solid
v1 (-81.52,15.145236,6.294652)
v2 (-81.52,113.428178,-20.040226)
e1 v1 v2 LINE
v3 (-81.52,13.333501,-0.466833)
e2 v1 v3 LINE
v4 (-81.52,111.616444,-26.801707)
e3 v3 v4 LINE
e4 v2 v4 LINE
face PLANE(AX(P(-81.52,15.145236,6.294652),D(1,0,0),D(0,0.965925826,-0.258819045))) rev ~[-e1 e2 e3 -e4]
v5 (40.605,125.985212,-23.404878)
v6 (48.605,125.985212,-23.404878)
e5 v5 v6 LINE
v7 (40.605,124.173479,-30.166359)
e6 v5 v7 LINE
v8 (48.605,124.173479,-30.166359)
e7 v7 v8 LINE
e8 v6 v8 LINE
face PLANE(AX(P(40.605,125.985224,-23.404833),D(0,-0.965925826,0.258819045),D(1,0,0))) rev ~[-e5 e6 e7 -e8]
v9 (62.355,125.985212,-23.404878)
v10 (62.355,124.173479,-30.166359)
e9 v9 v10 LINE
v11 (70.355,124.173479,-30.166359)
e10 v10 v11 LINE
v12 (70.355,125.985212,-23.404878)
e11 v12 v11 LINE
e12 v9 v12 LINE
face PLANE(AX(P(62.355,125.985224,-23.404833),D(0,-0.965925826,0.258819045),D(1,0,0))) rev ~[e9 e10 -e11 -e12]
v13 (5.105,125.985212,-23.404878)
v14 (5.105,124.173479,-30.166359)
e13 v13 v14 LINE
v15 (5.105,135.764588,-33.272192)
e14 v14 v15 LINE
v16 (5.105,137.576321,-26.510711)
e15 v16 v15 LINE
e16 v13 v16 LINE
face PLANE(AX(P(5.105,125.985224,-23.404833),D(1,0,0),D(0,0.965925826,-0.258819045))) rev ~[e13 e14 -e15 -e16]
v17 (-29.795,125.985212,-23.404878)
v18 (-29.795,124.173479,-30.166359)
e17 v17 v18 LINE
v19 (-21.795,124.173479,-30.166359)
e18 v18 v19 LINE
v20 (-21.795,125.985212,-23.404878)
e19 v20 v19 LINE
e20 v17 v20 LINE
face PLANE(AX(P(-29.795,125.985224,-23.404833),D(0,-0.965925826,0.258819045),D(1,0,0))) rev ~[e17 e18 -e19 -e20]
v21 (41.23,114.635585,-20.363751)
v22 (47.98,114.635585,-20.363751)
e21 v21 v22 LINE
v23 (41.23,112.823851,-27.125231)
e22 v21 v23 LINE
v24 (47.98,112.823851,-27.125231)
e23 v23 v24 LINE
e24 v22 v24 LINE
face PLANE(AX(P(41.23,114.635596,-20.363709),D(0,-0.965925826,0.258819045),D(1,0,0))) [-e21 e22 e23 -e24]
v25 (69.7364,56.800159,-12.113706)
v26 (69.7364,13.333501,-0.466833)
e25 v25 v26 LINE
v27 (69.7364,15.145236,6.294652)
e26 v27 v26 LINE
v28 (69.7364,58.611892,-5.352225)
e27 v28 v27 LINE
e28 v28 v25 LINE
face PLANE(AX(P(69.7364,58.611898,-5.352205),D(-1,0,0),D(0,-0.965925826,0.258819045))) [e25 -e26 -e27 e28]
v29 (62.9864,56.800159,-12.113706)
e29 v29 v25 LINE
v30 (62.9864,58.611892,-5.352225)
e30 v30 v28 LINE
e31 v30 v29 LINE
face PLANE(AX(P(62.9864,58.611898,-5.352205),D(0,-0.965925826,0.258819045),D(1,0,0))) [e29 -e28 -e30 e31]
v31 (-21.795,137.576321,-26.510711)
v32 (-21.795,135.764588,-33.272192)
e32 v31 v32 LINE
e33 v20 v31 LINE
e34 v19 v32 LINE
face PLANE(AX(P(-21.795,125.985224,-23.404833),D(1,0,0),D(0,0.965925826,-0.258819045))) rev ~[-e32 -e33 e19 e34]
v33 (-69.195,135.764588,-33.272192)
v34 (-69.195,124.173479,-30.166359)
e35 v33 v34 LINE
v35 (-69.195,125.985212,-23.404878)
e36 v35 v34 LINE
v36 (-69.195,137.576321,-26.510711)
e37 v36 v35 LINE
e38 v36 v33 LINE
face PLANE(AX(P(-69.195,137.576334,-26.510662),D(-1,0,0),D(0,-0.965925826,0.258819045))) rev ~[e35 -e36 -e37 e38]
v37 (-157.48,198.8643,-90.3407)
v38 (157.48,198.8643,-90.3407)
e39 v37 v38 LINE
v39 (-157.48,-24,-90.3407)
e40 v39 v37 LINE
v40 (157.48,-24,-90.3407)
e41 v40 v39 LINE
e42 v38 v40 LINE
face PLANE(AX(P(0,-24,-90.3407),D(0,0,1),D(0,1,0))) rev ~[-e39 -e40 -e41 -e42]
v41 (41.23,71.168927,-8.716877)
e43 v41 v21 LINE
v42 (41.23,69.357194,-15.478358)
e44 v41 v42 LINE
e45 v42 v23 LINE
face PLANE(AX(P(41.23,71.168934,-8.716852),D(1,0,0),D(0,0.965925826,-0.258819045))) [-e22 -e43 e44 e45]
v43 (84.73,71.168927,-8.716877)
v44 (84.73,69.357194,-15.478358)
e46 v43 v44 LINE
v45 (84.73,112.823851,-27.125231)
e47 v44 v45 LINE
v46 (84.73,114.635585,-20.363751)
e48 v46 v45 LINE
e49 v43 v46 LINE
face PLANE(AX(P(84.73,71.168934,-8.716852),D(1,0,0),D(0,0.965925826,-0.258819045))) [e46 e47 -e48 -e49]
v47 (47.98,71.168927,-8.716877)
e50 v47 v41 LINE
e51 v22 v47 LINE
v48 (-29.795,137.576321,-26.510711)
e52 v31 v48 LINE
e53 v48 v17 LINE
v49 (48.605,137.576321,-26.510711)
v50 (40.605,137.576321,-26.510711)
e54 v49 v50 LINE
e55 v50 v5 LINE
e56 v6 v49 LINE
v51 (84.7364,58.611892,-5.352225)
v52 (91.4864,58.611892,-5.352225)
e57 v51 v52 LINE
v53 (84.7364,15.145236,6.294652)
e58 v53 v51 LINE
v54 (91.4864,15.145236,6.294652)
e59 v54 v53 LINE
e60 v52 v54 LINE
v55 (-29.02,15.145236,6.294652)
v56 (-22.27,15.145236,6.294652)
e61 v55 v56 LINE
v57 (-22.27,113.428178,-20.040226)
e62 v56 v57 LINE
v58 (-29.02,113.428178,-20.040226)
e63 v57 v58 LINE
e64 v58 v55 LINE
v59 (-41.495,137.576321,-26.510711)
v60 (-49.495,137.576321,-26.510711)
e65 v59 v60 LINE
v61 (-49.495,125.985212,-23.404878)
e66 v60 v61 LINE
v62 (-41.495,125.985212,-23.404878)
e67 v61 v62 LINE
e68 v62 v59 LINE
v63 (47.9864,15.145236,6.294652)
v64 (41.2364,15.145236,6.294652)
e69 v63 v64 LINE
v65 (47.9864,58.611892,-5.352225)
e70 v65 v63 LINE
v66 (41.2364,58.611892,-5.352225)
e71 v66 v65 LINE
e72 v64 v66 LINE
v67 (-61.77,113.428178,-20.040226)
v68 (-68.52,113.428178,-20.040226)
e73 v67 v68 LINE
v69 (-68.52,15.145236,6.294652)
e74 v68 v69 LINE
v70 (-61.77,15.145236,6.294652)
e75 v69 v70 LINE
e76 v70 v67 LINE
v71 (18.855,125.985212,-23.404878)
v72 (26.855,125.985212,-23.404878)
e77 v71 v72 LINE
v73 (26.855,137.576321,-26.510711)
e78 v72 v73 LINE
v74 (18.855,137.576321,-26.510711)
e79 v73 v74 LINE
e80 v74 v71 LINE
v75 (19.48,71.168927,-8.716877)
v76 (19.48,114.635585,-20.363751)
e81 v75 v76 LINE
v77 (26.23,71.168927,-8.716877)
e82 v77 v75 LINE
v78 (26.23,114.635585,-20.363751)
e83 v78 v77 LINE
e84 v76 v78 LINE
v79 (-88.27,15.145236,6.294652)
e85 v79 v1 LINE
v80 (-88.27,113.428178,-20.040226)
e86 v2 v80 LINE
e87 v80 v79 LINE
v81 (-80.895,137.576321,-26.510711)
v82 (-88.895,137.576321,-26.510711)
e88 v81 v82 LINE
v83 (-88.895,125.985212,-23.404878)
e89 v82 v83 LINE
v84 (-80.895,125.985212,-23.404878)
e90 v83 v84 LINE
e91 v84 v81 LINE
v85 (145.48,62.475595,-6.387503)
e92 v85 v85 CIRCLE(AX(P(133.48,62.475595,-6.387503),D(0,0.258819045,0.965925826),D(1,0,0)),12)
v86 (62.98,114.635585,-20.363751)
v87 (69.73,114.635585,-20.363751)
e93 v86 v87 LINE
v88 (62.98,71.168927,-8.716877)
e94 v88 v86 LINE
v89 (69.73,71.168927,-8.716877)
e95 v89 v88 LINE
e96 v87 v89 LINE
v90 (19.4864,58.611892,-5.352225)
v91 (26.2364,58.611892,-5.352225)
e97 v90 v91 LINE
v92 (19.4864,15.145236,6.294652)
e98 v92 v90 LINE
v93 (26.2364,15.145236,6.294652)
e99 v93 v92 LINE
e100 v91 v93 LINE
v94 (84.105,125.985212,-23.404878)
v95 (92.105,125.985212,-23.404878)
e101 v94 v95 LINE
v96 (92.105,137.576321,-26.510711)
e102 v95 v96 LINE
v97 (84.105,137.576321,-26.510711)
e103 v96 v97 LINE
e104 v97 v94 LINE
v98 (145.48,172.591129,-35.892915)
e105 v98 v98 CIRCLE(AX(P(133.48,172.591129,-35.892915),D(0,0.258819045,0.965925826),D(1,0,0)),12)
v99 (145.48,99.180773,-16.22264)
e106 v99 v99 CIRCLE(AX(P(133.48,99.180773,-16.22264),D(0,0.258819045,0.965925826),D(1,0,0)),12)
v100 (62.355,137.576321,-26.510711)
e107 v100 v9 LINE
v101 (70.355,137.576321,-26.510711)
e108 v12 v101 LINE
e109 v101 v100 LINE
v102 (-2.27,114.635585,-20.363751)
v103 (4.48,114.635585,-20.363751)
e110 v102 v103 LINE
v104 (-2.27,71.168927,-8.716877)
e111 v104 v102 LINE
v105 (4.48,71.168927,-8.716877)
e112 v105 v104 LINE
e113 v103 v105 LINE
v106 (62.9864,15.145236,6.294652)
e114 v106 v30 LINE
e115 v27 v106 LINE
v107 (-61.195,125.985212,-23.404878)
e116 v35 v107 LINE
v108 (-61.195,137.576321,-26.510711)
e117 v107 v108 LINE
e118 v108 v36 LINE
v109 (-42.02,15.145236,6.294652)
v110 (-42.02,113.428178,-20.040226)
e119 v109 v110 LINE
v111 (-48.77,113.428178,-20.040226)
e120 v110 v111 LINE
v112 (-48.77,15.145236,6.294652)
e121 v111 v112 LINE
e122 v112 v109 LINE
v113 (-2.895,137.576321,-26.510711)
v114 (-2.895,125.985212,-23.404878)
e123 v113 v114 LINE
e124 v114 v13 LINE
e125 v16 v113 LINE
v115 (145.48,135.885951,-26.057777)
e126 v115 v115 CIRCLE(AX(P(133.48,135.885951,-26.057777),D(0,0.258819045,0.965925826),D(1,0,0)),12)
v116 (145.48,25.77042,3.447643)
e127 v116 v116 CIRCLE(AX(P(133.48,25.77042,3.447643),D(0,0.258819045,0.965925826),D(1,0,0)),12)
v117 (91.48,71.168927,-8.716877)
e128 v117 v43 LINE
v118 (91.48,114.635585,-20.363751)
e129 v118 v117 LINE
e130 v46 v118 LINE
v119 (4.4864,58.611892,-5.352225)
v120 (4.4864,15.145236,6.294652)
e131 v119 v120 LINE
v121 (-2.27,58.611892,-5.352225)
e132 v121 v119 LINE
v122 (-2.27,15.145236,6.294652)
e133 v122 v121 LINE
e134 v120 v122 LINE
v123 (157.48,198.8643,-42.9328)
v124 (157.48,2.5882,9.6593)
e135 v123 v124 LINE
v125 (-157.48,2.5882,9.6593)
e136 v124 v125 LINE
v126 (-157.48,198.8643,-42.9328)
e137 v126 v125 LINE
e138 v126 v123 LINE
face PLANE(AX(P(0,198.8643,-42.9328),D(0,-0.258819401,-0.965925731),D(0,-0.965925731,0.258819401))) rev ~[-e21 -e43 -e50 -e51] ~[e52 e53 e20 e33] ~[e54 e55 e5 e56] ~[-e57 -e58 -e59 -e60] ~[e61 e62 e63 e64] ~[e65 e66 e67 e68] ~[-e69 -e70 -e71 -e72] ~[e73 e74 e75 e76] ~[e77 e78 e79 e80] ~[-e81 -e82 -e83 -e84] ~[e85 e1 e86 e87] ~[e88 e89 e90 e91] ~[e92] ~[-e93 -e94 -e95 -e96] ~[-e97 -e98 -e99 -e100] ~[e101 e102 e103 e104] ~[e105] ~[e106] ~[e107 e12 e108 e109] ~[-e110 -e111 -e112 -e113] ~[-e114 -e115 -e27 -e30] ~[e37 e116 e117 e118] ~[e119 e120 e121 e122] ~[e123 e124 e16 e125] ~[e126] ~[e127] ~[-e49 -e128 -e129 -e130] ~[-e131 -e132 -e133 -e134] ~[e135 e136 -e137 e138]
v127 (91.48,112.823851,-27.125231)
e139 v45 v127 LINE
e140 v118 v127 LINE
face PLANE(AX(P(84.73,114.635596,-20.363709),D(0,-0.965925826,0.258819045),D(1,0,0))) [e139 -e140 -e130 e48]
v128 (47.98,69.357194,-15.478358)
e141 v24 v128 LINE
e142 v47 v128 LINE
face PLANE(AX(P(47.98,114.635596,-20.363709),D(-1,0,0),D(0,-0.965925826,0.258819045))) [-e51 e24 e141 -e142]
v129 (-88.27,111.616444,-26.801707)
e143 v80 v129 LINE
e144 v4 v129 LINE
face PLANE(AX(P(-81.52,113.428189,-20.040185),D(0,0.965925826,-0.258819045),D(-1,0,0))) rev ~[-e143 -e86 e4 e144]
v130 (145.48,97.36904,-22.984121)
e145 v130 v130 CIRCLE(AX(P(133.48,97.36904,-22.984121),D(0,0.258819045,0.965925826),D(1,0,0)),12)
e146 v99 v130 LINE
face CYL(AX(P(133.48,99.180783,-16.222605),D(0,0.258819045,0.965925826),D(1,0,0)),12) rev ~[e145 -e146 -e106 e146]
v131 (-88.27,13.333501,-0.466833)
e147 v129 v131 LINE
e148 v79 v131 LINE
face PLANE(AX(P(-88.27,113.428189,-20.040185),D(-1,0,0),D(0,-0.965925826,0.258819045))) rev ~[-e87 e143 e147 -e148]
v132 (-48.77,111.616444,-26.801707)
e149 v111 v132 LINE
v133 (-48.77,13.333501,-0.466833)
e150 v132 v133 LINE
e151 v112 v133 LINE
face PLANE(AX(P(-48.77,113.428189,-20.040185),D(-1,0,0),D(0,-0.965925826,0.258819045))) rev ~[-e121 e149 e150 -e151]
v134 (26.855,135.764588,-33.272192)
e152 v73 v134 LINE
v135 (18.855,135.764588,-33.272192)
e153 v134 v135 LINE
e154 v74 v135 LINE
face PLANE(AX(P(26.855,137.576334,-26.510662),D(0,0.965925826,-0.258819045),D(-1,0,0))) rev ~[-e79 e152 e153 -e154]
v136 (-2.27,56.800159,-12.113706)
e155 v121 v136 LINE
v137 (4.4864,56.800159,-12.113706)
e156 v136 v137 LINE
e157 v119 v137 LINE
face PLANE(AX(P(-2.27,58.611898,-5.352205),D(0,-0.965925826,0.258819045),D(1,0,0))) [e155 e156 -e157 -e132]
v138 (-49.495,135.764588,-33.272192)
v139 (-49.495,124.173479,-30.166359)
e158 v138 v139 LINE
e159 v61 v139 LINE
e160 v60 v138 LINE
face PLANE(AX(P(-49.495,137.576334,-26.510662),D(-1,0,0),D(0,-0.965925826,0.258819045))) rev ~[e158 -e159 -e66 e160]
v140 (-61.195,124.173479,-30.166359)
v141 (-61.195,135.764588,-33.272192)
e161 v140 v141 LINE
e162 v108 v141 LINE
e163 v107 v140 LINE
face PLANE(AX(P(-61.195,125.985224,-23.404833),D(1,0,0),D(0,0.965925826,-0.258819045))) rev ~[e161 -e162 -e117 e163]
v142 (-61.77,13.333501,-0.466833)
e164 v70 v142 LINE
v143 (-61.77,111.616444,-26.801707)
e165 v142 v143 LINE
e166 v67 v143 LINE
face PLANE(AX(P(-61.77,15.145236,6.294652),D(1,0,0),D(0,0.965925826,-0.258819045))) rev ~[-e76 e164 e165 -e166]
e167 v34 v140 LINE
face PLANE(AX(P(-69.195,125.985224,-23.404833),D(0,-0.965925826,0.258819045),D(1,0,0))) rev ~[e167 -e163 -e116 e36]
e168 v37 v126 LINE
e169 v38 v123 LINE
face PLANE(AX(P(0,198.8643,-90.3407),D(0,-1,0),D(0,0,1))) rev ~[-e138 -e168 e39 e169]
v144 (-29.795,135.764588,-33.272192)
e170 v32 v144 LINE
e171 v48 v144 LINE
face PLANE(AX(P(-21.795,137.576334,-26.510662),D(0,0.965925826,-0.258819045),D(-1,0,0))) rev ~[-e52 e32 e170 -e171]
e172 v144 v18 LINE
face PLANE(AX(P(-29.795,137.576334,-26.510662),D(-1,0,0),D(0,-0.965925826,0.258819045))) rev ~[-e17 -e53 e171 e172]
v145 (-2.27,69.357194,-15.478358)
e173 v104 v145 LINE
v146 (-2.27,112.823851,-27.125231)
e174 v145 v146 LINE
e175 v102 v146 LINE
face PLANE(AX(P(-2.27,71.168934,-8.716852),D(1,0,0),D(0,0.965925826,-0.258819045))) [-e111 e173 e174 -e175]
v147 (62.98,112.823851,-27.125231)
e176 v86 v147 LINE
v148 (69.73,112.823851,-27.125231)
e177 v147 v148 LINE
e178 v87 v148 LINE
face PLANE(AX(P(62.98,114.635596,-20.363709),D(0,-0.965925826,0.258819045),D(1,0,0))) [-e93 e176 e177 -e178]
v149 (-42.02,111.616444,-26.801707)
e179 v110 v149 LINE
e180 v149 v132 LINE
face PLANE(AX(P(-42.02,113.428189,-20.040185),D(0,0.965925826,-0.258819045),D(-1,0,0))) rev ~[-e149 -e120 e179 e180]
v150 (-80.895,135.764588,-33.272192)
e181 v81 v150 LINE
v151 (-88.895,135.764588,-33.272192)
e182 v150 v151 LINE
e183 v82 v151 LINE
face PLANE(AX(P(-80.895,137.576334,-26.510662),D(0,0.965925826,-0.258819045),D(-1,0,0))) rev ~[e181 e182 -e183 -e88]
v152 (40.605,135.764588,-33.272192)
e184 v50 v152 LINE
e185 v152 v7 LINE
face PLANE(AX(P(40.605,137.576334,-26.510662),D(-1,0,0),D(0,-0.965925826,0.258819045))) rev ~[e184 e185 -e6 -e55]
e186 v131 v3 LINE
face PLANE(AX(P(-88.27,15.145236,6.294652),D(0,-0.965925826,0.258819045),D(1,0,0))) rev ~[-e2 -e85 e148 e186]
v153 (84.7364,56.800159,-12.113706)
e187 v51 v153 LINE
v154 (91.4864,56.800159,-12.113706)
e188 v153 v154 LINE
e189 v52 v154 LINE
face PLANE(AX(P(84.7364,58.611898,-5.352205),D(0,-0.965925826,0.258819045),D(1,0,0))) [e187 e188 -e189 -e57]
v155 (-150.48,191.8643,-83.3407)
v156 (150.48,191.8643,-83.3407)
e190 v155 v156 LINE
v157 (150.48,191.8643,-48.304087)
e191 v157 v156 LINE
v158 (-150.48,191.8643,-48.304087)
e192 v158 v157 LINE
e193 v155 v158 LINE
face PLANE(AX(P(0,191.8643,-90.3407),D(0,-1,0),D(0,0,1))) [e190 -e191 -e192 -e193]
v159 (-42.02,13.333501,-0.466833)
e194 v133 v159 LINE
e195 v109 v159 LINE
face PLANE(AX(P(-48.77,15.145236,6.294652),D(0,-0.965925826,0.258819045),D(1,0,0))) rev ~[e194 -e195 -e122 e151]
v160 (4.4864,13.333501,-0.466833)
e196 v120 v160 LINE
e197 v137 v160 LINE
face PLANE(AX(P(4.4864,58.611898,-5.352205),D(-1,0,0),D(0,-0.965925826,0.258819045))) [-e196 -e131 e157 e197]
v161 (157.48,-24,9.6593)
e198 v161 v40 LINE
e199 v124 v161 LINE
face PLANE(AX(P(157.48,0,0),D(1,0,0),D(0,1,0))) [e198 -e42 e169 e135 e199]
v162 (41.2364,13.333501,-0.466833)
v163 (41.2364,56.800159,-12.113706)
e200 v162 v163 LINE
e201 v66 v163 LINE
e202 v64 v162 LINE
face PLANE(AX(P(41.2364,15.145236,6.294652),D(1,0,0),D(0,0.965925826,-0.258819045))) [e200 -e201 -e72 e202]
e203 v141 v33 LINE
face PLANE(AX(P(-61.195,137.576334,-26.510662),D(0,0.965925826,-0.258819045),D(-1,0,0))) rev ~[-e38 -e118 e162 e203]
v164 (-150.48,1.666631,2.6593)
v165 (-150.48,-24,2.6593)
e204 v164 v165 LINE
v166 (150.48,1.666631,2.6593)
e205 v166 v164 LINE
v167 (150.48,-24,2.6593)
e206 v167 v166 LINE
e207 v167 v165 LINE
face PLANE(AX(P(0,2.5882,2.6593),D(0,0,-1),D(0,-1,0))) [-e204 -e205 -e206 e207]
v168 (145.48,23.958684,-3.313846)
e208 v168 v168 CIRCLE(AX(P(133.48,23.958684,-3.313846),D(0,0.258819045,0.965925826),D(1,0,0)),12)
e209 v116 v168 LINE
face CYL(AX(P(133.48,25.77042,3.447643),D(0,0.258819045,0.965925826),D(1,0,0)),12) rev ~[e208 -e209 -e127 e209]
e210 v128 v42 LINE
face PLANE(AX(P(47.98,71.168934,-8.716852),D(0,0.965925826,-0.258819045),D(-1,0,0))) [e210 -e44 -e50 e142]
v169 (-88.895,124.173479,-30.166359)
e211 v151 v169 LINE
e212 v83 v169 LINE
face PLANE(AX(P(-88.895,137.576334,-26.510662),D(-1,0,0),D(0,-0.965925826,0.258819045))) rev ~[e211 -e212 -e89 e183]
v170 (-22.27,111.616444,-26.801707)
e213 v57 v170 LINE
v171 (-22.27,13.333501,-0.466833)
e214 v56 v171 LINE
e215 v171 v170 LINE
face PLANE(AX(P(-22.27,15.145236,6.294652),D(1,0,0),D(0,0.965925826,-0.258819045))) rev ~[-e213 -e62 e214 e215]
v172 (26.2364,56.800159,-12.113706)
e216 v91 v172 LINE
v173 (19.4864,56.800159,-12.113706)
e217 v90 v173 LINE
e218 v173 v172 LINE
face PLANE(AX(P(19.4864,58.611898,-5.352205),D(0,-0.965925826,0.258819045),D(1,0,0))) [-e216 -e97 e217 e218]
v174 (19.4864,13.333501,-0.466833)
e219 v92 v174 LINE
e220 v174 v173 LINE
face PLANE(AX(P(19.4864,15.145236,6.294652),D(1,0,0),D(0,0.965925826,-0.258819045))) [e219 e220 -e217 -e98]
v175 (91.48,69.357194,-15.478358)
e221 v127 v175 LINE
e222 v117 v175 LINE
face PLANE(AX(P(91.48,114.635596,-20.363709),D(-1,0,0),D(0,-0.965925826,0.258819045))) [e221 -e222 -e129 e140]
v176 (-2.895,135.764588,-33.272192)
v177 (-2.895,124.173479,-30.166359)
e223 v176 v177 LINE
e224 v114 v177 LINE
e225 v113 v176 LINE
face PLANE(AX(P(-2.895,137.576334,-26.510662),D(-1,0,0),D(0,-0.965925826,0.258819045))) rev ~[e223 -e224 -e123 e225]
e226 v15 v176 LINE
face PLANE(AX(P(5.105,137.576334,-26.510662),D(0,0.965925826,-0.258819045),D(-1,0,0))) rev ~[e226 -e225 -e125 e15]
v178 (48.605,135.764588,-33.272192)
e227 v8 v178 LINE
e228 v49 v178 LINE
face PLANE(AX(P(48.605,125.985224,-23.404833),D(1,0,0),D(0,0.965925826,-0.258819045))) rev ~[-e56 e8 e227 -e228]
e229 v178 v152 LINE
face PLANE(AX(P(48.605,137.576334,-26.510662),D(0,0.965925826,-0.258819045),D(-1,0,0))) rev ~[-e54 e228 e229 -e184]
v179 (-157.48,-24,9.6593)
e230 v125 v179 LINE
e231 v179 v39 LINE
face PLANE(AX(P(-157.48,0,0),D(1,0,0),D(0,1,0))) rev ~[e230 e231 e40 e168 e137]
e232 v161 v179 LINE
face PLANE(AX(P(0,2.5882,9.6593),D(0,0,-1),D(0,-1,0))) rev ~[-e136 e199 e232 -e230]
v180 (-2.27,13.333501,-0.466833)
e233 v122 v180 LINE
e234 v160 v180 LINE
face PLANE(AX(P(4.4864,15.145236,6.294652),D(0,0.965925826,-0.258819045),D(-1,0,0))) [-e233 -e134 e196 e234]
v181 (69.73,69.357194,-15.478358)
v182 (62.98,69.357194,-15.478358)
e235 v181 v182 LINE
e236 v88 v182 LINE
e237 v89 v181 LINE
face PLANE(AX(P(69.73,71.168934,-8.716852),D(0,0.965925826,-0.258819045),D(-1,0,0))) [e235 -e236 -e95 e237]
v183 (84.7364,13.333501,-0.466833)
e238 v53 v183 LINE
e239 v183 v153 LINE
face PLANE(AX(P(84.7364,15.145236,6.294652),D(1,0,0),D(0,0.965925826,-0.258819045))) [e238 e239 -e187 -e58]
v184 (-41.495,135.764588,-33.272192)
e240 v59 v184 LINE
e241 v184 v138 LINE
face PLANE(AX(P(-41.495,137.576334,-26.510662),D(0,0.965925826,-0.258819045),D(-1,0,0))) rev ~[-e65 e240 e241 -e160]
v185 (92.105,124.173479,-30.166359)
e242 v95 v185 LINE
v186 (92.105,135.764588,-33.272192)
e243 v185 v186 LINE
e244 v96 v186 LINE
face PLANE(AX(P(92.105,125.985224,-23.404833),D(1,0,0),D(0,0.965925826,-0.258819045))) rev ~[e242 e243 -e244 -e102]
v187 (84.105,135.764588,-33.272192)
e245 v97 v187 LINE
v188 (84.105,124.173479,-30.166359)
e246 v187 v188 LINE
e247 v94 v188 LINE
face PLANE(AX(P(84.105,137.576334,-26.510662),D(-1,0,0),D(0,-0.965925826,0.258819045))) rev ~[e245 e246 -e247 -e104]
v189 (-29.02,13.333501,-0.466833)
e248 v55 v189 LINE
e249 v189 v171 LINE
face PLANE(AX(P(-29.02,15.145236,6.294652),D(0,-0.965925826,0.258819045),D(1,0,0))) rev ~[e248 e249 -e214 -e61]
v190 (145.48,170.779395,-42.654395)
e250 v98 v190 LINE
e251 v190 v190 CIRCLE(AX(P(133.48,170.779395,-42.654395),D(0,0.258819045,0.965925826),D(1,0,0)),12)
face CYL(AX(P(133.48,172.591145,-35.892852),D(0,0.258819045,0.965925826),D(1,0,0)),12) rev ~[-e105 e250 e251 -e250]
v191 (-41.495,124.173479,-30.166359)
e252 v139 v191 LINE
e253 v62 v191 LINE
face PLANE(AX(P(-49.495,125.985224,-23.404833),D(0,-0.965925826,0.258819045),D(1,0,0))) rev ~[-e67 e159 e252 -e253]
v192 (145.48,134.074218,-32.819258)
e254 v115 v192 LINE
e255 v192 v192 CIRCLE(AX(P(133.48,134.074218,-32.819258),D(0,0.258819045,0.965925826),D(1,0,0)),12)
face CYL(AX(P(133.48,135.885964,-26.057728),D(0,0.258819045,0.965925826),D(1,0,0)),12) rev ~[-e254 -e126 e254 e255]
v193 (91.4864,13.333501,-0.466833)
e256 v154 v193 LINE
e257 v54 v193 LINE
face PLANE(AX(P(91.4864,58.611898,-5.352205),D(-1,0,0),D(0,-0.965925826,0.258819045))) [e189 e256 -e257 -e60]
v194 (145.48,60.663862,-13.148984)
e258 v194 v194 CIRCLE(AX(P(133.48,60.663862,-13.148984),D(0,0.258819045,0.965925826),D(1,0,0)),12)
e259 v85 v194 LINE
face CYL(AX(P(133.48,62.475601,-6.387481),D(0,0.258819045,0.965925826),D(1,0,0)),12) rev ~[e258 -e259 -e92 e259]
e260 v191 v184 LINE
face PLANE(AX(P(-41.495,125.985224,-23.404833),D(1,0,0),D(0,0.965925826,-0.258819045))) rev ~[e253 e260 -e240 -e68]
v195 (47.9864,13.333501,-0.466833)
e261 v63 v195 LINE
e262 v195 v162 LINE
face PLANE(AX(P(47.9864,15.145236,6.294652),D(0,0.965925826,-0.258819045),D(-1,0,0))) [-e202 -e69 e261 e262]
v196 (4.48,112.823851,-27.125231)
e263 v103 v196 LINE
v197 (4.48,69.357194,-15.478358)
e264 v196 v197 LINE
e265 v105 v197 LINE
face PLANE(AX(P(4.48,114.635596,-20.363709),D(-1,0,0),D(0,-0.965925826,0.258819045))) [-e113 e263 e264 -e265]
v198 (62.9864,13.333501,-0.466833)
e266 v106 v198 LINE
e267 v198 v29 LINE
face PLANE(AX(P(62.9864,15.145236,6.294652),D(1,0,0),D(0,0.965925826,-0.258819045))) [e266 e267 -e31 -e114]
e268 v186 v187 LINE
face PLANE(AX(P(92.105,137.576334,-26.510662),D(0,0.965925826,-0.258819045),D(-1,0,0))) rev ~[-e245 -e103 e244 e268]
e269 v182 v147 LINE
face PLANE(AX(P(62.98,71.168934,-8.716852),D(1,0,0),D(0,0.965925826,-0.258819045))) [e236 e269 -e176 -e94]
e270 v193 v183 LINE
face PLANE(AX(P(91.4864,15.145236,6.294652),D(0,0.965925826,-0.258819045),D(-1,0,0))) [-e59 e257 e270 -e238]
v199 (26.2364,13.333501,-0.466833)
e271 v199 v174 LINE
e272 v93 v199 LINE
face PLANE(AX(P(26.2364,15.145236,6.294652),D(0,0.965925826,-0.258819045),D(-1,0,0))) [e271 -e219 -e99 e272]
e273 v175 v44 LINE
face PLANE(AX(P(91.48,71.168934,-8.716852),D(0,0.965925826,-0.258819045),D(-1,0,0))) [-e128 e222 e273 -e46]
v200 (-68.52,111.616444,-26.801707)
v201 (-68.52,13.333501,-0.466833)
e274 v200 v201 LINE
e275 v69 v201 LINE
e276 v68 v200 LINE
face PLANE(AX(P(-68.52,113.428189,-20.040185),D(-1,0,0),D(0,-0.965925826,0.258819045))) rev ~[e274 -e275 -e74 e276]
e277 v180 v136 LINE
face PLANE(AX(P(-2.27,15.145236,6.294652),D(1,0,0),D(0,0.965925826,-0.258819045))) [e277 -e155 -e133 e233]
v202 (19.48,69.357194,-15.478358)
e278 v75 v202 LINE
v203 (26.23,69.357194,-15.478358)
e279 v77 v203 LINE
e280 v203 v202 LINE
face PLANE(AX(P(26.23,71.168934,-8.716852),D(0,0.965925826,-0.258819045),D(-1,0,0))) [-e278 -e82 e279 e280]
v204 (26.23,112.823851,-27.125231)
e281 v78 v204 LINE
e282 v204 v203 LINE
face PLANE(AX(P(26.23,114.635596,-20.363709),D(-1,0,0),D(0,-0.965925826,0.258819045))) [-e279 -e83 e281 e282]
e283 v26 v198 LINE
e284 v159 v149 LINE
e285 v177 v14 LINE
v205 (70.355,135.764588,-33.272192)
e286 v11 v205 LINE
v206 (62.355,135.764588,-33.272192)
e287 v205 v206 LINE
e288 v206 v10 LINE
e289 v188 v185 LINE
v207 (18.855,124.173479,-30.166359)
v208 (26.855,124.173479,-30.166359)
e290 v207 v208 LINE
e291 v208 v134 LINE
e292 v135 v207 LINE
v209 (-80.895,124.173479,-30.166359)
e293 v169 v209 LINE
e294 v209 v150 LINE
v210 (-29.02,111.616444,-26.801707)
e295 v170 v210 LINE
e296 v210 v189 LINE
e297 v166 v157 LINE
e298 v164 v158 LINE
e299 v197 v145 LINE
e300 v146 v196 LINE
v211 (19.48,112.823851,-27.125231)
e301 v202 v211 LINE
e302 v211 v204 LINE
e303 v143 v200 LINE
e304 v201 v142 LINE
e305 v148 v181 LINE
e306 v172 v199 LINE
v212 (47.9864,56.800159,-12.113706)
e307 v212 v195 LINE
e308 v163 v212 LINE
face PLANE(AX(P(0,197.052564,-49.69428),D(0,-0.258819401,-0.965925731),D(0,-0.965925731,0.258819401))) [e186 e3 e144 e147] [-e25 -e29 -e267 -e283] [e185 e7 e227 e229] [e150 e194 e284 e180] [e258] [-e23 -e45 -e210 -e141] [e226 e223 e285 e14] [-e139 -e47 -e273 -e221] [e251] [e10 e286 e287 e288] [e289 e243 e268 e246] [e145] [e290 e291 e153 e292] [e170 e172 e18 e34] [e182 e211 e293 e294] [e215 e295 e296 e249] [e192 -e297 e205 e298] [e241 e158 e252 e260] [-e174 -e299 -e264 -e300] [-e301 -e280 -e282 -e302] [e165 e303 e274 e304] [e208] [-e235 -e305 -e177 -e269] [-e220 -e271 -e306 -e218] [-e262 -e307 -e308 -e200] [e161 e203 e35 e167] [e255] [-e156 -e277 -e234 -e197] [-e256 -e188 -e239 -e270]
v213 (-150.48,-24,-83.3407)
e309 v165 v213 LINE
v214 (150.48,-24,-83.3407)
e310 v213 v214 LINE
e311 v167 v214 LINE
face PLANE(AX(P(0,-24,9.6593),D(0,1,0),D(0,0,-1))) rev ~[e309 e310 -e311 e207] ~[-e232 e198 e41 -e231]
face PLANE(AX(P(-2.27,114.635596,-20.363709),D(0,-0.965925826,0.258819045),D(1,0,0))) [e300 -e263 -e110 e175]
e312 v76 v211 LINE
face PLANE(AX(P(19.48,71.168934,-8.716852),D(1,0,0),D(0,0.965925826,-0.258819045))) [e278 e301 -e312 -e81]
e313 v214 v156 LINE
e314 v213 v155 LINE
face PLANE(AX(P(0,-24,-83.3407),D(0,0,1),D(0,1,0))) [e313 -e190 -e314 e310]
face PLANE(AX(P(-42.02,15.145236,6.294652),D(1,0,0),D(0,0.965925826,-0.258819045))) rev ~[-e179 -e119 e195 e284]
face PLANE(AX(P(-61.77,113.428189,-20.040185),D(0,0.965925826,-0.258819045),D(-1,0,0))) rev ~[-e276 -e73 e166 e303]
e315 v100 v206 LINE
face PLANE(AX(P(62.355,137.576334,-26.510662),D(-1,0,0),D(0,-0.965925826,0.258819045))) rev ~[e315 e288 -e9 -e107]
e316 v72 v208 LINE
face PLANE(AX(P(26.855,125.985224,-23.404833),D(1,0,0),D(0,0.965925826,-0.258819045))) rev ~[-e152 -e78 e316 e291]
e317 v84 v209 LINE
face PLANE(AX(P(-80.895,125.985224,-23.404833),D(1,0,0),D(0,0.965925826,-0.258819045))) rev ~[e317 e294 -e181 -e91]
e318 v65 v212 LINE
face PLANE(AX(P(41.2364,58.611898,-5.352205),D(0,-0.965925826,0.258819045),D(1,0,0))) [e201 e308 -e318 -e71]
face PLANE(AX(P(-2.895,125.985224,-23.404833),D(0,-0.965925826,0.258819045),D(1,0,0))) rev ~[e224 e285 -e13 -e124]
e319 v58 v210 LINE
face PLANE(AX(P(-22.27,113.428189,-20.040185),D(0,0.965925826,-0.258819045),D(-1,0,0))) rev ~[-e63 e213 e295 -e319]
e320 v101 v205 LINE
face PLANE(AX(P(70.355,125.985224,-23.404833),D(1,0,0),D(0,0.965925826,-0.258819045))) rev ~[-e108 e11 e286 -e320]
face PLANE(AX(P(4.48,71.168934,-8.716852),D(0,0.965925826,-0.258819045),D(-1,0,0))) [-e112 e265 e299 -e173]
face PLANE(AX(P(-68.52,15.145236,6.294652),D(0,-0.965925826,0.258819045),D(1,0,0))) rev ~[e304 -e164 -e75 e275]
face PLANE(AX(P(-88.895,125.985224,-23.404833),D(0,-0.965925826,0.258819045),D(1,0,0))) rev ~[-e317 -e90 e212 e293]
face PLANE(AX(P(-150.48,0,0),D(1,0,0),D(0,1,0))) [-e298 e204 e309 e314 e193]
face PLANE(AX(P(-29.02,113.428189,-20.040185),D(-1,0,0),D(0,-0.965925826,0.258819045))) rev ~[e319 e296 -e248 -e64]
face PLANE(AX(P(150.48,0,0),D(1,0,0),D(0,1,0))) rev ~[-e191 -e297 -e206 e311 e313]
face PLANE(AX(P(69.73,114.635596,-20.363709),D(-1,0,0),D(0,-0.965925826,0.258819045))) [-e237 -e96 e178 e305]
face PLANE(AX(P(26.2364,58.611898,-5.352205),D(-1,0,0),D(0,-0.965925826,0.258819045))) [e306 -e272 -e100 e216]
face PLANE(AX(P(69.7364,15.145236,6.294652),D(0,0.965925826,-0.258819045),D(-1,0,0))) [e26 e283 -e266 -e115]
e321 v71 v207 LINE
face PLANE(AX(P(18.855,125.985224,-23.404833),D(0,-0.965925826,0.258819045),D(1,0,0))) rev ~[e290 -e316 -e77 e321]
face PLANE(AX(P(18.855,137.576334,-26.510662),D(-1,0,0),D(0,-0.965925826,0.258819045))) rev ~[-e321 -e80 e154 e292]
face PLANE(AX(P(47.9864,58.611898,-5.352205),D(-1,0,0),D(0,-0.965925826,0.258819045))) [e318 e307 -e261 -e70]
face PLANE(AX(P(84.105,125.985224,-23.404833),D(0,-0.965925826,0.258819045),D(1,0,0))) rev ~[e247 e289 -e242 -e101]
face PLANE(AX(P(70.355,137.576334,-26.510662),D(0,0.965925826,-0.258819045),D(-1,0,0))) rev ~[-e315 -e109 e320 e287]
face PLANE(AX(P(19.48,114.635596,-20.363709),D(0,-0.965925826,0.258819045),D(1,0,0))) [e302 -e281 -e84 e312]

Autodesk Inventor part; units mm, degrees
ref_plane "YZ Plane" through (0, 0, 0) normal (1, 0, 0) x (0, 1, 0)
ref_plane "XZ Plane" through (0, 0, 0) normal (0, 1, 0) x (-1, 0, 0)
ref_plane "XY Plane" through (0, 0, 0) normal (0, 0, 1) x (1, 0, 0)
sketch "Sketch5" plane through (0, 0, 0) normal (1, 0, 0) x (0, 1, 0)
  line L0 (0, -90.3407) -> (198.8643, -90.3407)
  line L1 (198.8643, -90.3407) -> (198.8643, -42.9328)
  line L2 (198.8643, -42.9328) -> (2.5882, 9.6593)
  line L3 (-24, 9.6593) -> (-24, -90.3407)
  line L4 (-24, -90.3407) -> (0, -90.3407)
  line L5 (2.5882, 9.6593) -> (198.8643, -42.9328)
  line L6 (2.5882, 9.6593) -> (-24, 9.6593)
  point P0 (0, 0)
  point P1 (0, 0)
  dimension "d214" = 100
  dimension "d216" = 24
  dimension "d218" = 15
  dimension "d219" = 47.408
extrude "Extrusion5" add sketch "Sketch5" along normal mid plane 314.96
shell "Shell1" thickness 7 removed faces 1 at (-52.4933, -24, -23.6741)
sketch "Sketch6" plane through (-157.48, 2.5882, 9.6593) normal (0, 0.2588, 0.9659) x (1, 0, 0)
  line L0 (314.96, -3.925) -> (314.96, 199.275)
  line L1 (0, 0) -> (314.96, 0)
  line L2 (314.96, 0) -> (314.96, 199.275)
  circle A0 centre (290.96, 24) radius 12
  line L3 (135.21, 13) -> (135.21, 114.75)
  line L4 (69.21, 114.75) -> (69.21, 13)
  line L5 (128.46, 114.75) -> (128.46, 13)
  line L6 (108.71, 114.75) -> (108.71, 13)
  line L7 (88.96, 114.75) -> (88.96, 13)
  line L8 (115.46, 13) -> (115.46, 114.75)
  line L9 (95.71, 13) -> (95.71, 114.75)
  line L10 (75.96, 13) -> (75.96, 114.75)
  line L11 (135.21, 114.75) -> (128.46, 114.75)
  line L12 (115.46, 114.75) -> (108.71, 114.75)
  line L13 (95.71, 114.75) -> (88.96, 114.75)
  line L14 (75.96, 114.75) -> (69.21, 114.75)
  line L15 (248.96, 71) -> (242.21, 71)
  line L16 (242.21, 71) -> (242.21, 116)
  line L17 (227.21, 116) -> (227.21, 71)
  line L18 (227.21, 71) -> (220.46, 71)
  line L19 (220.46, 71) -> (220.46, 116)
  line L20 (248.96, 116) -> (248.96, 71)
  line L21 (69.21, 13) -> (75.96, 13)
  line L22 (88.96, 13) -> (95.71, 13)
  line L23 (108.71, 13) -> (115.46, 13)
  line L24 (128.46, 13) -> (135.21, 13)
  line L25 (183.71, 71) -> (176.96, 71)
  line L26 (205.46, 71) -> (198.71, 71)
  line L27 (183.71, 116) -> (183.71, 71)
  line L28 (198.71, 71) -> (198.71, 116)
  line L29 (205.46, 116) -> (205.46, 71)
  line L30 (176.96, 71) -> (176.96, 116)
  line L31 (220.4664, 58) -> (227.2164, 58)
  line L32 (227.2164, 58) -> (227.2164, 13)
  line L33 (227.2164, 13) -> (220.4664, 13)
  line L34 (242.2164, 58) -> (248.9664, 58)
  line L35 (242.2164, 13) -> (242.2164, 58)
  line L36 (248.9664, 13) -> (242.2164, 13)
  line L37 (248.9664, 58) -> (248.9664, 13)
  line L38 (220.4664, 13) -> (220.4664, 58)
  line L39 (155.21, 13) -> (155.21, 58)
  line L40 (155.21, 58) -> (161.9664, 58)
  line L41 (161.9664, 58) -> (161.9664, 13)
  line L42 (205.4664, 58) -> (205.4664, 13)
  line L43 (198.7164, 58) -> (205.4664, 58)
  line L44 (198.7164, 13) -> (198.7164, 58)
  line L45 (205.4664, 13) -> (198.7164, 13)
  line L46 (183.7164, 58) -> (183.7164, 13)
  line L47 (176.9664, 13) -> (176.9664, 58)
  line L48 (183.7164, 13) -> (176.9664, 13)
  line L49 (161.9664, 13) -> (155.21, 13)
  line L50 (176.9664, 58) -> (183.7164, 58)
  line L51 (155.21, 71) -> (155.21, 116)
  line L52 (161.96, 71) -> (155.21, 71)
  line L53 (161.96, 116) -> (161.96, 71)
  line L54 (155.21, 116) -> (161.96, 116)
  line L55 (76.585, 127.75) -> (76.585, 139.75)
  line L56 (76.585, 139.75) -> (68.585, 139.75)
  line L57 (68.585, 139.75) -> (68.585, 127.75)
  line L58 (68.585, 127.75) -> (76.585, 127.75)
  line L59 (176.96, 116) -> (183.71, 116)
  line L60 (198.71, 116) -> (205.46, 116)
  line L61 (220.46, 116) -> (227.21, 116)
  line L62 (242.21, 116) -> (248.96, 116)
  circle A1 centre (290.96, 62) radius 12
  circle A2 centre (290.96, 100) radius 12
  circle A3 centre (290.96, 138) radius 12
  circle A4 centre (290.96, 176) radius 12
  line L63 (96.285, 139.75) -> (88.285, 139.75)
  line L64 (96.285, 127.75) -> (96.285, 139.75)
  line L65 (88.285, 127.75) -> (96.285, 127.75)
  line L66 (88.285, 139.75) -> (88.285, 127.75)
  line L67 (115.985, 139.75) -> (107.985, 139.75)
  line L68 (115.985, 127.75) -> (115.985, 139.75)
  line L69 (107.985, 127.75) -> (115.985, 127.75)
  line L70 (107.985, 139.75) -> (107.985, 127.75)
  line L71 (135.685, 139.75) -> (127.685, 139.75)
  line L72 (135.685, 127.75) -> (135.685, 139.75)
  line L73 (127.685, 127.75) -> (135.685, 127.75)
  line L74 (127.685, 139.75) -> (127.685, 127.75)
  line L75 (154.585, 127.75) -> (162.585, 127.75)
  line L76 (162.585, 127.75) -> (162.585, 139.75)
  line L77 (162.585, 139.75) -> (154.585, 139.75)
  line L78 (154.585, 139.75) -> (154.585, 127.75)
  line L79 (176.335, 139.75) -> (176.335, 127.75)
  line L80 (184.335, 139.75) -> (176.335, 139.75)
  line L81 (184.335, 127.75) -> (184.335, 139.75)
  line L82 (176.335, 127.75) -> (184.335, 127.75)
  line L83 (198.085, 139.75) -> (198.085, 127.75)
  line L84 (206.085, 139.75) -> (198.085, 139.75)
  line L85 (206.085, 127.75) -> (206.085, 139.75)
  line L86 (198.085, 127.75) -> (206.085, 127.75)
  line L87 (219.835, 139.75) -> (219.835, 127.75)
  line L88 (227.835, 139.75) -> (219.835, 139.75)
  line L89 (227.835, 127.75) -> (227.835, 139.75)
  line L90 (219.835, 127.75) -> (227.835, 127.75)
  line L91 (241.585, 139.75) -> (241.585, 127.75)
  line L92 (249.585, 139.75) -> (241.585, 139.75)
  line L93 (249.585, 127.75) -> (249.585, 139.75)
  line L94 (241.585, 127.75) -> (249.585, 127.75)
  line L95 (0, 0) -> (314.96, 0) projected
  line L96 (0, 203.2) -> (314.96, 203.2) projected
  line L97 (314.96, 203.2) -> (314.96, 0) projected
  dimension "d226" = 314.96
  dimension "d232" = 101.75
  dimension "d233" = 6.75
  dimension "d234" = 45
  dimension "d235" = 6.7564
  dimension "d236" = 13
  dimension "d237" = 13
  dimension "d238" = 13
  dimension "d239" = 6.75
  dimension "d240" = 6.75
  dimension "d241" = 6.75
  dimension "d242" = 101.75
  dimension "d243" = 101.75
  dimension "d244" = 101.75
  dimension "d245" = 0
  dimension "d246" = 0
  dimension "d247" = 0
  dimension "d253" = 13
  dimension "d254" = 13
  dimension "d255" = 45
  dimension "d256" = 45
  dimension "d257" = 45
  dimension "d258" = 45
  dimension "d259" = 13
  dimension "d260" = 13
  dimension "d261" = 13
  dimension "d262" = 6.75
  dimension "d263" = 6.75
  dimension "d264" = 6.75
  dimension "d265" = 6.75
  dimension "d266" = 6.75
  dimension "d267" = 45
  dimension "d268" = 45
  dimension "d269" = 45
  dimension "d270" = 45
  dimension "d271" = 45
  dimension "d272" = 15
  dimension "d273" = 15
  dimension "d274" = 15
  dimension "d275" = 15
  dimension "d276" = 6.75
  dimension "d277" = 6.75
  dimension "d278" = 6.75
  dimension "d279" = 6.75
  dimension "d281" = 15
  dimension "d290" = 15
  dimension "d291" = 15
  dimension "d292" = 15
  dimension "d315" = 24
  dimension "d316" = 24
  dimension "d317" = 24
  dimension "d318" = 203.2
  dimension "d321" = 38
  dimension "SW" = 8
  dimension "SL" = 12
  dimension "d330" = 0.625
  dimension "d333" = 19.7
  dimension "d346" = 8
  dimension "d347" = 12
  dimension "d348" = 0.625
  dimension "d351" = 21.75
  dimension "d356" = 13
  dimension "d357" = 13
  dimension "d358" = 0
extrude "Extrusion8" cut sketch "Sketch6" against normal up to next
properties part number "SoundBoard"
